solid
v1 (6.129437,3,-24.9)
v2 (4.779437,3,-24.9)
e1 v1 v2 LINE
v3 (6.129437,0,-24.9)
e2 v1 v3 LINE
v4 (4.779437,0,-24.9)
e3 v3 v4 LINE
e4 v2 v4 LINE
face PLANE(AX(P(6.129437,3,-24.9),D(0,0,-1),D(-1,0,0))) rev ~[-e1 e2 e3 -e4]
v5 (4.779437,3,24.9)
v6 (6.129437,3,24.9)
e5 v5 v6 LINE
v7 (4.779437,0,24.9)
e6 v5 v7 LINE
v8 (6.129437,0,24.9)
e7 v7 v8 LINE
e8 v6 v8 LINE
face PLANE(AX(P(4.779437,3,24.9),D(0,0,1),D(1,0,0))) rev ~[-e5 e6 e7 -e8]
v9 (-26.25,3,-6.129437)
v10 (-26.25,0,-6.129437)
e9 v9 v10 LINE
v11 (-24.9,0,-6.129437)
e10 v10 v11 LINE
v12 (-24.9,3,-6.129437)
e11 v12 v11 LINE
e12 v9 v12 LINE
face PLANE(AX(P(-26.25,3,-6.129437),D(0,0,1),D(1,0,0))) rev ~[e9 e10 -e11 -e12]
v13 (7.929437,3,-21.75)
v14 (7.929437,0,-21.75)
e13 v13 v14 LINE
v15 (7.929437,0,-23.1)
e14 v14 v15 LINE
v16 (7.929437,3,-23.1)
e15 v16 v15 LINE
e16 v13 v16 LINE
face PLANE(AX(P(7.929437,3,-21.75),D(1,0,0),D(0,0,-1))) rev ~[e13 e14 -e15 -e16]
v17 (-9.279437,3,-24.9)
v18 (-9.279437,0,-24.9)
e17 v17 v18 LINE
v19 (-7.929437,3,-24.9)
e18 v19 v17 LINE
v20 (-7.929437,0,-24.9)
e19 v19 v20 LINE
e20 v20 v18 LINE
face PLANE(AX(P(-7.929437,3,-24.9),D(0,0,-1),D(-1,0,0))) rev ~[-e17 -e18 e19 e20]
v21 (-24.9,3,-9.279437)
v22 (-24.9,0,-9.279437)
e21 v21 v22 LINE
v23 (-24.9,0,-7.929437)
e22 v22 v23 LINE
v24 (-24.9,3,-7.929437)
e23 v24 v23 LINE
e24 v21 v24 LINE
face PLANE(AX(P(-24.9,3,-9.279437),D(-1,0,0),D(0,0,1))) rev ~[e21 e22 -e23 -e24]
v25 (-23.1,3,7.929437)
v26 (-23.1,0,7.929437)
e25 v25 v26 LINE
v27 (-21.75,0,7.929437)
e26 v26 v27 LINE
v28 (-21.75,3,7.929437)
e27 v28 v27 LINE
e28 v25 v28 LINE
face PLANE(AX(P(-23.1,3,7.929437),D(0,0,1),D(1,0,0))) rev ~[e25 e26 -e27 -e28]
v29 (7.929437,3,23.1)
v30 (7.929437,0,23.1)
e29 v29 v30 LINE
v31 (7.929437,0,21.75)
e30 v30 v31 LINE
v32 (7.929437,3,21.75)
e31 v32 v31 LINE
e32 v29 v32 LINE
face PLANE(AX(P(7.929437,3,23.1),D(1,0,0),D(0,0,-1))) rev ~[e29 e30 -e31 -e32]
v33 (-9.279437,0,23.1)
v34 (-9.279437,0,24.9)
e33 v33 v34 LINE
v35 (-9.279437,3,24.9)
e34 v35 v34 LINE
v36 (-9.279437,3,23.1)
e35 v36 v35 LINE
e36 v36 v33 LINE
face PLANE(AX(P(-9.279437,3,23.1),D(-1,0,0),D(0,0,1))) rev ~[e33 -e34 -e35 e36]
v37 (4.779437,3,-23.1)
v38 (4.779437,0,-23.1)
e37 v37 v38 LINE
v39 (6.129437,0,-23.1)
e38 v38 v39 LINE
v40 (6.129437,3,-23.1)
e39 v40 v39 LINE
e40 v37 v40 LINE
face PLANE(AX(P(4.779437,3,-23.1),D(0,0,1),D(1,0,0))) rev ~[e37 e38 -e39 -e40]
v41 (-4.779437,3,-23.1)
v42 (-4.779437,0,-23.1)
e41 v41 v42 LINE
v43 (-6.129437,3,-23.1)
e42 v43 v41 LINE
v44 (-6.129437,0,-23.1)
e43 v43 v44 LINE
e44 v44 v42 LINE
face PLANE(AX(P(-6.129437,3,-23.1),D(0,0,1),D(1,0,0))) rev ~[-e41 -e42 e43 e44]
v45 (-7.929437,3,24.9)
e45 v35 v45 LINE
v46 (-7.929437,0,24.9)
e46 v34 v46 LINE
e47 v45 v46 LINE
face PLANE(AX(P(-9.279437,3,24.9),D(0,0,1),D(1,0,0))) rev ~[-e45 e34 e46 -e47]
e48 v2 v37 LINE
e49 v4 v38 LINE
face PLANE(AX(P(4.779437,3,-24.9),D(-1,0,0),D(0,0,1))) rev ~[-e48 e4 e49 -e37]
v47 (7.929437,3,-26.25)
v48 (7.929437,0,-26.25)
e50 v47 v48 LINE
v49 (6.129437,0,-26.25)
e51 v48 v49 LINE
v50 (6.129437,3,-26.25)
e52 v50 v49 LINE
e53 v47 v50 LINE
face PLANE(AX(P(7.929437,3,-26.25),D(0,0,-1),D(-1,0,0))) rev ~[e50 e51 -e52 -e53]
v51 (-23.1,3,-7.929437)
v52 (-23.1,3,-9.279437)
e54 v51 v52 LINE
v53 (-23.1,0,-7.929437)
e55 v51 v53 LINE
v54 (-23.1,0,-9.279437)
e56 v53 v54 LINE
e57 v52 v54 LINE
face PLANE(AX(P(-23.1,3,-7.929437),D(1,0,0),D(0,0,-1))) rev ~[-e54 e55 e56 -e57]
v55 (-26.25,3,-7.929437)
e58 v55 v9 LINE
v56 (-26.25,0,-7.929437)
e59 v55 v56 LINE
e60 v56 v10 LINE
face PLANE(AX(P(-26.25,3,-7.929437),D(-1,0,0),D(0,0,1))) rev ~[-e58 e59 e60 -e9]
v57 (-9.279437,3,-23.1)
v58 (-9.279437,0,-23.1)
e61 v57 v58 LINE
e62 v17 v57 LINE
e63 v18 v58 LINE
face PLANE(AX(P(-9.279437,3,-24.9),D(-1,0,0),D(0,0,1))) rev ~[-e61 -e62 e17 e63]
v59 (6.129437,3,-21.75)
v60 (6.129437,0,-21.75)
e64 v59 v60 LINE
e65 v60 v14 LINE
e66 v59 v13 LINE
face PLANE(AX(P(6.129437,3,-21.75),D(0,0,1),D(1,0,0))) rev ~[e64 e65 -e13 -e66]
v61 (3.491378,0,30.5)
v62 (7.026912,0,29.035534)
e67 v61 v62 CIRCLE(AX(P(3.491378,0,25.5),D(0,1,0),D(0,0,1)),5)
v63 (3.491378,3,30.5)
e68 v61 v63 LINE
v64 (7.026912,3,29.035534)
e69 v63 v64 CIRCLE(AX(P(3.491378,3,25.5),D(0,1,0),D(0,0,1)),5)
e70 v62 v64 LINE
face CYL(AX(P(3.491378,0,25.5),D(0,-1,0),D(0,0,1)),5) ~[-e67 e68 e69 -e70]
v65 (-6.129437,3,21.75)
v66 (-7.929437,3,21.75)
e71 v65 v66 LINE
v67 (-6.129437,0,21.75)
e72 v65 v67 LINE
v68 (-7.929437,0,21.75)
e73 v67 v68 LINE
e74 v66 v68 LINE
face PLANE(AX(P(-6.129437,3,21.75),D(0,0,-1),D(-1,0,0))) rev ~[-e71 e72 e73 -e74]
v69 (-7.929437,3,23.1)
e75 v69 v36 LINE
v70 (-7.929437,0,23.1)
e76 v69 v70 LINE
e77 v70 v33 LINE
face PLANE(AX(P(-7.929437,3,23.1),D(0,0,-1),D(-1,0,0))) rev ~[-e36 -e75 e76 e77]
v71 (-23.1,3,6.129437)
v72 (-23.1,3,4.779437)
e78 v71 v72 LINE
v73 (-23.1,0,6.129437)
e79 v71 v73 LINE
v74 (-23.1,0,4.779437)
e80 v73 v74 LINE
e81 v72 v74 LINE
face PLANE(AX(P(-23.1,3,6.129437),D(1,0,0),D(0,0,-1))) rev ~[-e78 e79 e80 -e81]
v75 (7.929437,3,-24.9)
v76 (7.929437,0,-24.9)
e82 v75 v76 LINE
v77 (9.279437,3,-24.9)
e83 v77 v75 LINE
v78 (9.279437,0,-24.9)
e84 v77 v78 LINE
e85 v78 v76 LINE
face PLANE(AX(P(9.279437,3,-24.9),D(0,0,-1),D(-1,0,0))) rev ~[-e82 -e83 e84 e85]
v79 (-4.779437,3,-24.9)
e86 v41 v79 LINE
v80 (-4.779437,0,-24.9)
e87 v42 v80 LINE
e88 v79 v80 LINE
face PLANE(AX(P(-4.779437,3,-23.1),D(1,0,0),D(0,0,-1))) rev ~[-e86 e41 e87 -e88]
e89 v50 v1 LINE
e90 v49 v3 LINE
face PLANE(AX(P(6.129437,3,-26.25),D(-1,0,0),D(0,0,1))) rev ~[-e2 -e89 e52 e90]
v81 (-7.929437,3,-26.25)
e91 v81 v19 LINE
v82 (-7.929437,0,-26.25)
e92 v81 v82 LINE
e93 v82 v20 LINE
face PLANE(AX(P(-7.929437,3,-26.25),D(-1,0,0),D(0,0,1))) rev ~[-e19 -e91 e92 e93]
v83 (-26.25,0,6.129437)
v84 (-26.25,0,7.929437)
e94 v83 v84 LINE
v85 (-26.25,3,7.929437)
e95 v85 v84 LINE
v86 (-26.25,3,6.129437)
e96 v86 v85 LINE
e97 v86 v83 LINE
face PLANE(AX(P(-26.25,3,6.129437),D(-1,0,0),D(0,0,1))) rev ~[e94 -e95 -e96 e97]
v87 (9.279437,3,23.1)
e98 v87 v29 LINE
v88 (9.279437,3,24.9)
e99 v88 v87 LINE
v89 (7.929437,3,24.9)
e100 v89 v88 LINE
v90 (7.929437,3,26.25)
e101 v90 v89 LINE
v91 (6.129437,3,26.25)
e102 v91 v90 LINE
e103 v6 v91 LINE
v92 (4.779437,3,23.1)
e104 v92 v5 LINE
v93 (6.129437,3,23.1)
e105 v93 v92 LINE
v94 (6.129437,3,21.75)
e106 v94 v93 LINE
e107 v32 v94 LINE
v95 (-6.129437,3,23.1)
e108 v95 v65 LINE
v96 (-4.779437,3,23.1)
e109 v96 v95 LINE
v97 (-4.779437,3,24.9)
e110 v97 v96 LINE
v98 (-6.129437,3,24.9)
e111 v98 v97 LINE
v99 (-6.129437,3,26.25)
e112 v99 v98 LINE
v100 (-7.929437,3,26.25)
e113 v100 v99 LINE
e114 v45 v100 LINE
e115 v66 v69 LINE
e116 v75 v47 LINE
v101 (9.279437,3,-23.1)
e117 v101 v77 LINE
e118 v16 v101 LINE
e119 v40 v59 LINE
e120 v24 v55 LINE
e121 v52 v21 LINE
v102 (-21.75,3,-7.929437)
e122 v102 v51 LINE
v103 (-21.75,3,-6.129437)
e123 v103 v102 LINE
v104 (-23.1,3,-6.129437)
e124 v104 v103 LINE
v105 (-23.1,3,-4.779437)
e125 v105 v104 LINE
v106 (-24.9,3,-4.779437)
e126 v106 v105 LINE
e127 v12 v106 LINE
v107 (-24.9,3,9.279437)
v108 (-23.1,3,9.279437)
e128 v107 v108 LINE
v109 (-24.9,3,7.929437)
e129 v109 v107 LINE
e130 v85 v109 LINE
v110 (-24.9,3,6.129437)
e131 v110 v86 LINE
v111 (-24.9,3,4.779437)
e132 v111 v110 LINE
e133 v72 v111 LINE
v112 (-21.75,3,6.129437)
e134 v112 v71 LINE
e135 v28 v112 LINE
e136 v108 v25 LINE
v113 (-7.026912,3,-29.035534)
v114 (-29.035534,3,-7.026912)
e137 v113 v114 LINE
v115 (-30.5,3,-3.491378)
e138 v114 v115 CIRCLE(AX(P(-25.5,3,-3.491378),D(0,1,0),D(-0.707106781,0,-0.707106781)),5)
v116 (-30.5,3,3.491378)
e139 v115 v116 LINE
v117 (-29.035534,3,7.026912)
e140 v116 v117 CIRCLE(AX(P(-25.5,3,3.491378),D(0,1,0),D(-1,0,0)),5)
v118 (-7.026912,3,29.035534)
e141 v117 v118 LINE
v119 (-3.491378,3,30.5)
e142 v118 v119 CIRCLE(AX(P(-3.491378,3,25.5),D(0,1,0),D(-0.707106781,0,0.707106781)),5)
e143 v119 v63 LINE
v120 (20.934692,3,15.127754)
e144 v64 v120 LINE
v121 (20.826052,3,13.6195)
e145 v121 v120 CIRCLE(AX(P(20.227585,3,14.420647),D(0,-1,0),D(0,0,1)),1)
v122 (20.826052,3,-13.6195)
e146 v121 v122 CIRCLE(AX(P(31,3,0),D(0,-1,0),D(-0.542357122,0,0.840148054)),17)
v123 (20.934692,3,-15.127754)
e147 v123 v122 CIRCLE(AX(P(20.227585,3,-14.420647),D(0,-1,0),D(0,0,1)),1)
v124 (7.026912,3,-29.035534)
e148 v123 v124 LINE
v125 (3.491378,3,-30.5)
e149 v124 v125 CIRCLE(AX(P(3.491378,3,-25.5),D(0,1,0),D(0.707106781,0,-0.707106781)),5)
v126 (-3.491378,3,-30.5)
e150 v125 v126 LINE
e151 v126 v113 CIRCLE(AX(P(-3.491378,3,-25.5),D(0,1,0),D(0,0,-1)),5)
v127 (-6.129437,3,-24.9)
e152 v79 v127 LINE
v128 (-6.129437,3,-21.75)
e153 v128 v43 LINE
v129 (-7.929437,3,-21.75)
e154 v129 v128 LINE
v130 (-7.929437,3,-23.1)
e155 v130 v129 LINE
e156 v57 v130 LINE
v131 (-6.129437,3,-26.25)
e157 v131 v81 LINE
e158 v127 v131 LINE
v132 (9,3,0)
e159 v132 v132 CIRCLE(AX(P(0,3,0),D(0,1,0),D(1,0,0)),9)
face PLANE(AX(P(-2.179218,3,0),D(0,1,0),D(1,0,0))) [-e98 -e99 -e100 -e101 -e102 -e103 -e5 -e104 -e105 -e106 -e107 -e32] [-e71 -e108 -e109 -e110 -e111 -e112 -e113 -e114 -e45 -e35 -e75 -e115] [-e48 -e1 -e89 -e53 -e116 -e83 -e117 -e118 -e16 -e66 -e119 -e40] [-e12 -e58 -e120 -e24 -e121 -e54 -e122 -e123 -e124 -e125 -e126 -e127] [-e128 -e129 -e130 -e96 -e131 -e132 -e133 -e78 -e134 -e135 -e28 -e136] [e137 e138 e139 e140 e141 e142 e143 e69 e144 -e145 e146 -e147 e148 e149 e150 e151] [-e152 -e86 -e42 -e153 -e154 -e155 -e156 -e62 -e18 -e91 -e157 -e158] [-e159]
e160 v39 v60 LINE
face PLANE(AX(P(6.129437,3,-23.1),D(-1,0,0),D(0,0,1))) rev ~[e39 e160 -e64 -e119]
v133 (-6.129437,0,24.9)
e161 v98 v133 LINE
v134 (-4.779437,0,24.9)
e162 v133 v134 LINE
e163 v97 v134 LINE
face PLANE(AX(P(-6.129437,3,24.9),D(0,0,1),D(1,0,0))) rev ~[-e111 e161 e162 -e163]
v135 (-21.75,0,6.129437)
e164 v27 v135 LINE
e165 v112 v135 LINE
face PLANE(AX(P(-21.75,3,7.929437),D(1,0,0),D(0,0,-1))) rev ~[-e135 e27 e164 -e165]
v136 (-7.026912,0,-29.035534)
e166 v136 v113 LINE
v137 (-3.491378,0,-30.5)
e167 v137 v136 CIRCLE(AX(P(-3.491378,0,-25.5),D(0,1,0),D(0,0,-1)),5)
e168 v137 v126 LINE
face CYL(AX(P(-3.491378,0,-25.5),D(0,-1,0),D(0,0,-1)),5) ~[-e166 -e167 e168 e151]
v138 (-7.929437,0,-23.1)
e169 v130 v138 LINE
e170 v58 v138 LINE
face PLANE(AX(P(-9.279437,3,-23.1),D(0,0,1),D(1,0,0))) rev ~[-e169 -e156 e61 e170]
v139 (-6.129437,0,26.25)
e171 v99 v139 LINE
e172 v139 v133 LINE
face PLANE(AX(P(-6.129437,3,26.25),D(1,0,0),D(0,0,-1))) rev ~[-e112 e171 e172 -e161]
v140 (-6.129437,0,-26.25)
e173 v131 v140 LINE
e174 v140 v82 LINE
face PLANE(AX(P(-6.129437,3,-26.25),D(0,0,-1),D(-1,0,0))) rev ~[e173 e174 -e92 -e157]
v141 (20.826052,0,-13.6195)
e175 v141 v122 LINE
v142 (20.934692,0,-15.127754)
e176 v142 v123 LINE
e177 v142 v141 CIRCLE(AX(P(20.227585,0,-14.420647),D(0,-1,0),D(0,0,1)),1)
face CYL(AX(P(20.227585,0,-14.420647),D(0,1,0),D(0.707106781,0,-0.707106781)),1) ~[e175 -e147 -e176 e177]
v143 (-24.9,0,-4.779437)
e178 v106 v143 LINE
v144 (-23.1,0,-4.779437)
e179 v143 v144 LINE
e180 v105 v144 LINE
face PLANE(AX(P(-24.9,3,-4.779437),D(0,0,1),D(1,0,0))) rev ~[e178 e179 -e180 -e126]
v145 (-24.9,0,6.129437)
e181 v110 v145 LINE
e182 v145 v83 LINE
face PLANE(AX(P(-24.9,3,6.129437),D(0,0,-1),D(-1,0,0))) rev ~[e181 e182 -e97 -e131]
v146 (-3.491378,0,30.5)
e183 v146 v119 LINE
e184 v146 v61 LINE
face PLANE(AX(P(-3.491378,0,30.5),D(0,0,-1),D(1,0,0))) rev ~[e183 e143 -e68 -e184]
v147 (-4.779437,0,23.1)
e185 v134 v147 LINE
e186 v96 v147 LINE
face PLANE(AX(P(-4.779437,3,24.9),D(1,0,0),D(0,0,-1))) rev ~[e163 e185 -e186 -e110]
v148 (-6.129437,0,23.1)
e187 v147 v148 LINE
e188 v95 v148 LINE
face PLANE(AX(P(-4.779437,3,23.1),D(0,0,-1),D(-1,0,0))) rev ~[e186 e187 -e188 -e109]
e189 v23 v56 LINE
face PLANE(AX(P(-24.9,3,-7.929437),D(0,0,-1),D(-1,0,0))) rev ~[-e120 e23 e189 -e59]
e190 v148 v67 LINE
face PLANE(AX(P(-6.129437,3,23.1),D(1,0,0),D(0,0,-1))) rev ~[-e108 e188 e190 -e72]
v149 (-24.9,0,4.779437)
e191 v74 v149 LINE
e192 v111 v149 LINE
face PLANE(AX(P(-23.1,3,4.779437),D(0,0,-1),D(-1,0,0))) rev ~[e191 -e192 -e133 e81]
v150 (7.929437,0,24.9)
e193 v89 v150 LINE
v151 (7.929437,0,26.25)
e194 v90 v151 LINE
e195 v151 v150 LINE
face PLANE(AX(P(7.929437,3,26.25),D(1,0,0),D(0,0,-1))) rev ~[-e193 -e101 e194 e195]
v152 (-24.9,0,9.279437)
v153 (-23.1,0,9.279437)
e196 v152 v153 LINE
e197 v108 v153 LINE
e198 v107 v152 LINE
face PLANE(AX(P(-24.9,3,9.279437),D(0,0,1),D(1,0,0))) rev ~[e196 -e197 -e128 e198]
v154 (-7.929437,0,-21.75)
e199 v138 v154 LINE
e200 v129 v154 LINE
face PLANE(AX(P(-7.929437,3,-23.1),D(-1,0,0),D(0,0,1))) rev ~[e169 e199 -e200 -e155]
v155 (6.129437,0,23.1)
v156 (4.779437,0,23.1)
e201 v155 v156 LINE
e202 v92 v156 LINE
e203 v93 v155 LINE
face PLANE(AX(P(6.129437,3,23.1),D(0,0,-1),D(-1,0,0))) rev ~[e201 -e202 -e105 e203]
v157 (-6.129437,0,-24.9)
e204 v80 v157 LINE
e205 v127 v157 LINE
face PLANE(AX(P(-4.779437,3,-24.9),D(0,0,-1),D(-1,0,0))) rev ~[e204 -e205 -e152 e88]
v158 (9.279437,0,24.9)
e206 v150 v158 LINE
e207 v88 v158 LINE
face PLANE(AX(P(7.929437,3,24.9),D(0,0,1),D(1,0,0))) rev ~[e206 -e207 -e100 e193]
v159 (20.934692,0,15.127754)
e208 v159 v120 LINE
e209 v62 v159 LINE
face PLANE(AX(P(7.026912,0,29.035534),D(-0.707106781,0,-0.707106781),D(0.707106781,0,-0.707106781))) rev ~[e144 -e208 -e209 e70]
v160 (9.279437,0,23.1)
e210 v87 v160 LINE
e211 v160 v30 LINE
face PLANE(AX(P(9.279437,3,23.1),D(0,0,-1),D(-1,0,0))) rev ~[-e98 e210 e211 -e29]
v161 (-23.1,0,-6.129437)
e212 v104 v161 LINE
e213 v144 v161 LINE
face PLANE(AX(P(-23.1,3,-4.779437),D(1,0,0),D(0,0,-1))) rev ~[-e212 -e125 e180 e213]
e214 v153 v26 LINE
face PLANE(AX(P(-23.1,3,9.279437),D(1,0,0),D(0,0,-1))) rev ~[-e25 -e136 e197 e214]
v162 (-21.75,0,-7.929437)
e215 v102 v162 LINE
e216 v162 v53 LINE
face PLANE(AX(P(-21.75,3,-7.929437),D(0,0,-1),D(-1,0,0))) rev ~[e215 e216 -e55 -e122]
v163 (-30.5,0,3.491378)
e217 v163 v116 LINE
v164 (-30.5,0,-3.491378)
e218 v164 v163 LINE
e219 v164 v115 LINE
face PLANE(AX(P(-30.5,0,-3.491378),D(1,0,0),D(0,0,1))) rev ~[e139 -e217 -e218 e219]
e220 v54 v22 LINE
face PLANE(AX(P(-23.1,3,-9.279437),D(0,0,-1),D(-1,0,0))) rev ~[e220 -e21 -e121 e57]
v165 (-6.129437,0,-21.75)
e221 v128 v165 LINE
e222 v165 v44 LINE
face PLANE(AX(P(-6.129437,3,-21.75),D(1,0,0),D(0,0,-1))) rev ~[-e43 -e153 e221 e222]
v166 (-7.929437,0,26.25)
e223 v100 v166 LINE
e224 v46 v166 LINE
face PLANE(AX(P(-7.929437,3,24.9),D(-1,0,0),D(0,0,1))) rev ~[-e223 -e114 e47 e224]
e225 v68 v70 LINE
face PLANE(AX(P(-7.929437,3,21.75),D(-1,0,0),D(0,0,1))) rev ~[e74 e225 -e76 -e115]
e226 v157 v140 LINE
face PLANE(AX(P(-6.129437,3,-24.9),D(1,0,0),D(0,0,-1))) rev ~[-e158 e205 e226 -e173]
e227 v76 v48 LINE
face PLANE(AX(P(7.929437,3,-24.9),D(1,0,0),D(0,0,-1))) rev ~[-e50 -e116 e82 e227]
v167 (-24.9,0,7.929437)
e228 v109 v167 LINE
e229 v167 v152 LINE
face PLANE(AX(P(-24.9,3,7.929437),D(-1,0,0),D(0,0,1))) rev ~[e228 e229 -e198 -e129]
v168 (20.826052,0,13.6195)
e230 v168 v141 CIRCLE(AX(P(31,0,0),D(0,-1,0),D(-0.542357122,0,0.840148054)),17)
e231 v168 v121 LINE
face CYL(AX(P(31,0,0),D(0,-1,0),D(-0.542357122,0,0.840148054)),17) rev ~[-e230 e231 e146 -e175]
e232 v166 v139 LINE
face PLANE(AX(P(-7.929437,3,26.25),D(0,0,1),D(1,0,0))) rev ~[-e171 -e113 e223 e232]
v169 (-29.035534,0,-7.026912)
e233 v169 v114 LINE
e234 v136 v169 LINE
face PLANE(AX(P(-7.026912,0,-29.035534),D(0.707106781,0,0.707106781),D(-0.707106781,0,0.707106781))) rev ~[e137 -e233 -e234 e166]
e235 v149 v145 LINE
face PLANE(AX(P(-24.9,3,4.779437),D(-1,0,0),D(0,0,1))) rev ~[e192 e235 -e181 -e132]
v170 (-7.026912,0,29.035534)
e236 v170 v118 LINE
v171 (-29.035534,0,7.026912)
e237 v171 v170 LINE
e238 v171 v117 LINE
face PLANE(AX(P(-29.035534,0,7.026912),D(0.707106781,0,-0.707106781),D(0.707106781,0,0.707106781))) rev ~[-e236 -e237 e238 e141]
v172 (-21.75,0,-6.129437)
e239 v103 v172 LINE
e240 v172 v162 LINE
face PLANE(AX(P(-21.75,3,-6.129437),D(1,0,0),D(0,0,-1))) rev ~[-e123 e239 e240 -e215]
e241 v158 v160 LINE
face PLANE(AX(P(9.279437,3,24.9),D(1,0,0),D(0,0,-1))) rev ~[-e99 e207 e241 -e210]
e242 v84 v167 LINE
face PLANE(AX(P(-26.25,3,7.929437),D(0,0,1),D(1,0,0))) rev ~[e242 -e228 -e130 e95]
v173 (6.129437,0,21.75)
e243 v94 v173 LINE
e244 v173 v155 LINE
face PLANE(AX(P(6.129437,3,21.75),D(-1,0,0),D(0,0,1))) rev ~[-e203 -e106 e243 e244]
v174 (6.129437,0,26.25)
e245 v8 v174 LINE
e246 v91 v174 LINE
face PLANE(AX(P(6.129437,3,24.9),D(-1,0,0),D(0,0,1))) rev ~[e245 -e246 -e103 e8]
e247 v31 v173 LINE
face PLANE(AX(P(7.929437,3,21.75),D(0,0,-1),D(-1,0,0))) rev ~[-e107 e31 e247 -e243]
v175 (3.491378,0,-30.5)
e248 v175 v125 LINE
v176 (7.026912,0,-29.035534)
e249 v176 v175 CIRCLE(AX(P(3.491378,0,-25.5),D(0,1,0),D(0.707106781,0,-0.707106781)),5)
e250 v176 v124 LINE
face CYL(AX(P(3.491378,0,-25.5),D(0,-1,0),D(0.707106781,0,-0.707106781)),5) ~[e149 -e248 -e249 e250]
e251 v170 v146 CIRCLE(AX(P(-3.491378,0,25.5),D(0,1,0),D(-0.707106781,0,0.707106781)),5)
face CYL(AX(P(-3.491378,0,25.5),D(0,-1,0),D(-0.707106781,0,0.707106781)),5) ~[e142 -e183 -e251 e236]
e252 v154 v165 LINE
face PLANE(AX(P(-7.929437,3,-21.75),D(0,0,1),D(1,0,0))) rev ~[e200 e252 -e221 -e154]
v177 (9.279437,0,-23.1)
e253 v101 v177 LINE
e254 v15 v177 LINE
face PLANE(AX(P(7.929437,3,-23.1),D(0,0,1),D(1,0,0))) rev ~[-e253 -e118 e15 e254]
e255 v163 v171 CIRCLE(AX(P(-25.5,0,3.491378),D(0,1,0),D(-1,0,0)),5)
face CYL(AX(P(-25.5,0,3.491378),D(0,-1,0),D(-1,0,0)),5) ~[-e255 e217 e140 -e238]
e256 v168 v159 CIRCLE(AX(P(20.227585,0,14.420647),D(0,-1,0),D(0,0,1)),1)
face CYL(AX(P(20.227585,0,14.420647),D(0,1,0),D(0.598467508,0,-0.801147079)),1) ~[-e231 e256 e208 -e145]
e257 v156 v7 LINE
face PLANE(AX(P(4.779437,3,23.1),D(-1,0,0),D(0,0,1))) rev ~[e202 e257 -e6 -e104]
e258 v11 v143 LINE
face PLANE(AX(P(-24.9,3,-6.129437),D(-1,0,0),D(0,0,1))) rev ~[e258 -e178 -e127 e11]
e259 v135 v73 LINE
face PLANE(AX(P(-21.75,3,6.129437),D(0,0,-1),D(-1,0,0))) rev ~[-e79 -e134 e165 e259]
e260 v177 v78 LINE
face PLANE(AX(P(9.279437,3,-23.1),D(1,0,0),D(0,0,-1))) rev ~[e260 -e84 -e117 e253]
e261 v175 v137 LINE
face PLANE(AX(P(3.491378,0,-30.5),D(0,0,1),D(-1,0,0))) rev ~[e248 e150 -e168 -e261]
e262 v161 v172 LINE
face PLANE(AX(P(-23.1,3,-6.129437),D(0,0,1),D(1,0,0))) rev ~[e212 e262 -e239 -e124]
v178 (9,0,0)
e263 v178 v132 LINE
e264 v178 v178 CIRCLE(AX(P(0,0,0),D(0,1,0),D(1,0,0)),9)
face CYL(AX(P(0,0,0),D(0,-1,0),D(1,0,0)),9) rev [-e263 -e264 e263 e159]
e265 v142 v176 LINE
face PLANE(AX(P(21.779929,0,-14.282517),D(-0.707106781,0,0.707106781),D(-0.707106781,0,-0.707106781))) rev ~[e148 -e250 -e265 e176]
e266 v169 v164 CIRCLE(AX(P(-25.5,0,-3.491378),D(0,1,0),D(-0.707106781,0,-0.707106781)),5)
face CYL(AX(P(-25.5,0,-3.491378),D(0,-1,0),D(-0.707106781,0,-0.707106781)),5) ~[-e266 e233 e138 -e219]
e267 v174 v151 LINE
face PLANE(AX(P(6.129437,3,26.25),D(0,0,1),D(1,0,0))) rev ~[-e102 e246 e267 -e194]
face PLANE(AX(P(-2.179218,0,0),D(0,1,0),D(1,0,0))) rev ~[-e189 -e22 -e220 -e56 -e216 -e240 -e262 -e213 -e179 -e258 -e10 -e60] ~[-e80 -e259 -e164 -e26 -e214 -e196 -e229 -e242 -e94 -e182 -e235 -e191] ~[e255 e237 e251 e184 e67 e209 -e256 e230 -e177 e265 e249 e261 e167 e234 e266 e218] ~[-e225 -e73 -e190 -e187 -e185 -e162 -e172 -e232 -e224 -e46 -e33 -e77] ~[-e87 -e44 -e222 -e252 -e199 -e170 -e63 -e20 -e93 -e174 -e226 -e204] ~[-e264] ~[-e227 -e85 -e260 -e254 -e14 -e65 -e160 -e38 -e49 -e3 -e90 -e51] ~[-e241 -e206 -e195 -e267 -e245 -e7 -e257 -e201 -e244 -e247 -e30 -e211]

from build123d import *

# Parameters (mm, degrees)
SKETCH1_R           = 9
BOSS_EXTRUDE1_DEPTH = 3
CUT_EXTRUDE1_DEPTH  = 4
FILLET1_R           = 1


with BuildPart() as part:
    # Sketch1 → Boss-Extrude1 (new body)
    with BuildSketch(Plane(origin=(0, 0, 0), x_dir=(1, 0, 0), z_dir=(0, 1, 0))):
        with BuildLine():
            Line((3.491378029, 30.5), (-3.491378029, 30.5))
            ThreePointArc((-3.491378029, 30.5), (-5.40479519, 30.119397663), (-7.026911935, 29.035533906))
            Line((-7.026911935, 29.035533906), (-29.035533906, 7.026911935))
            ThreePointArc((-29.035533906, 7.026911935), (-30.119397663, 5.40479519), (-30.5, 3.491378029))
            Line((-30.5, 3.491378029), (-30.5, -3.491378029))
            ThreePointArc((-30.5, -3.491378029), (-30.119397663, -5.40479519), (-29.035533906, -7.026911935))
            Line((-29.035533906, -7.026911935), (-7.026911935, -29.035533906))
            ThreePointArc((-7.026911935, -29.035533906), (-5.40479519, -30.119397663), (-3.491378029, -30.5))
            Line((-3.491378029, -30.5), (3.491378029, -30.5))
            ThreePointArc((3.491378029, -30.5), (5.40479519, -30.119397663), (7.026911935, -29.035533906))
            Line((7.026911935, -29.035533906), (21.779928926, -14.282516914))
            ThreePointArc((21.779928926, -14.282516914), (14, 0), (21.779928926, 14.282516914))
            Line((21.779928926, 14.282516914), (7.026911935, 29.035533906))
            ThreePointArc((7.026911935, 29.035533906), (5.40479519, 30.119397663), (3.491378029, 30.5))
        make_face()
        Circle(SKETCH1_R, mode=Mode.SUBTRACT)
    extrude(amount=BOSS_EXTRUDE1_DEPTH)

    # Sketch4 → Cut-Extrude1 (cut, through all)
    with BuildSketch(Plane(origin=(0, 3, 0), x_dir=(1, 0, 0), z_dir=(0, 1, 0))):
        Polygon((-26.25, 7.929437252), (-26.25, 6.129437252), (-24.9, 6.129437252), (-24.9, 4.779437252), (-23.1, 4.779437252), (-23.1, 6.129437252), (-21.75, 6.129437252), (-21.75, 7.929437252), (-23.1, 7.929437252), (-23.1, 9.279437252), (-24.9, 9.279437252), (-24.9, 7.929437252), align=None)
        Polygon((-23.1, -4.779437252), (-24.9, -4.779437252), (-24.9, -6.129437252), (-26.25, -6.129437252), (-26.25, -7.929437252), (-24.9, -7.929437252), (-24.9, -9.279437252), (-23.1, -9.279437252), (-23.1, -7.929437252), (-21.75, -7.929437252), (-21.75, -6.129437252), (-23.1, -6.129437252), align=None)
        Polygon((7.929437252, 23.1), (9.279437252, 23.1), (9.279437252, 24.9), (7.929437252, 24.9), (7.929437252, 26.25), (6.129437252, 26.25), (6.129437252, 24.9), (4.779437252, 24.9), (4.779437252, 23.1), (6.129437252, 23.1), (6.129437252, 21.75), (7.929437252, 21.75), align=None)
        Polygon((26.25, -7.929437252), (26.25, -6.129437252), (24.9, -6.129437252), (24.9, -4.779437252), (23.1, -4.779437252), (23.1, -6.129437252), (21.75, -6.129437252), (21.75, -7.929437252), (23.1, -7.929437252), (23.1, -9.279437252), (24.9, -9.279437252), (24.9, -7.929437252), align=None)
        Polygon((-4.779437252, 24.9), (-6.129437252, 24.9), (-6.129437252, 26.25), (-7.929437252, 26.25), (-7.929437252, 24.9), (-9.279437252, 24.9), (-9.279437252, 23.1), (-7.929437252, 23.1), (-7.929437252, 21.75), (-6.129437252, 21.75), (-6.129437252, 23.1), (-4.779437252, 23.1), align=None)
        Polygon((26.25, 7.929437252), (24.9, 7.929437252), (24.9, 9.279437252), (23.1, 9.279437252), (23.1, 7.929437252), (21.75, 7.929437252), (21.75, 6.129437252), (23.1, 6.129437252), (23.1, 4.779437252), (24.9, 4.779437252), (24.9, 6.129437252), (26.25, 6.129437252), align=None)
        Polygon((-6.129437252, -26.25), (-6.129437252, -24.9), (-4.779437252, -24.9), (-4.779437252, -23.1), (-6.129437252, -23.1), (-6.129437252, -21.75), (-7.929437252, -21.75), (-7.929437252, -23.1), (-9.279437252, -23.1), (-9.279437252, -24.9), (-7.929437252, -24.9), (-7.929437252, -26.25), align=None)
        Polygon((7.929437252, -26.25), (7.929437252, -24.9), (9.279437252, -24.9), (9.279437252, -23.1), (7.929437252, -23.1), (7.929437252, -21.75), (6.129437252, -21.75), (6.129437252, -23.1), (4.779437252, -23.1), (4.779437252, -24.9), (6.129437252, -24.9), (6.129437252, -26.25), align=None)
    extrude(amount=-CUT_EXTRUDE1_DEPTH, mode=Mode.SUBTRACT)

    # Fillet1
    fillet1_edges = [part.edges().sort_by_distance(p)[0] for p in [
        (21.779928926, 1.5, -14.282516914),
        (21.779928926, 1.5, 14.282516914),
    ]]
    fillet(fillet1_edges, radius=FILLET1_R)


solid = part.part
